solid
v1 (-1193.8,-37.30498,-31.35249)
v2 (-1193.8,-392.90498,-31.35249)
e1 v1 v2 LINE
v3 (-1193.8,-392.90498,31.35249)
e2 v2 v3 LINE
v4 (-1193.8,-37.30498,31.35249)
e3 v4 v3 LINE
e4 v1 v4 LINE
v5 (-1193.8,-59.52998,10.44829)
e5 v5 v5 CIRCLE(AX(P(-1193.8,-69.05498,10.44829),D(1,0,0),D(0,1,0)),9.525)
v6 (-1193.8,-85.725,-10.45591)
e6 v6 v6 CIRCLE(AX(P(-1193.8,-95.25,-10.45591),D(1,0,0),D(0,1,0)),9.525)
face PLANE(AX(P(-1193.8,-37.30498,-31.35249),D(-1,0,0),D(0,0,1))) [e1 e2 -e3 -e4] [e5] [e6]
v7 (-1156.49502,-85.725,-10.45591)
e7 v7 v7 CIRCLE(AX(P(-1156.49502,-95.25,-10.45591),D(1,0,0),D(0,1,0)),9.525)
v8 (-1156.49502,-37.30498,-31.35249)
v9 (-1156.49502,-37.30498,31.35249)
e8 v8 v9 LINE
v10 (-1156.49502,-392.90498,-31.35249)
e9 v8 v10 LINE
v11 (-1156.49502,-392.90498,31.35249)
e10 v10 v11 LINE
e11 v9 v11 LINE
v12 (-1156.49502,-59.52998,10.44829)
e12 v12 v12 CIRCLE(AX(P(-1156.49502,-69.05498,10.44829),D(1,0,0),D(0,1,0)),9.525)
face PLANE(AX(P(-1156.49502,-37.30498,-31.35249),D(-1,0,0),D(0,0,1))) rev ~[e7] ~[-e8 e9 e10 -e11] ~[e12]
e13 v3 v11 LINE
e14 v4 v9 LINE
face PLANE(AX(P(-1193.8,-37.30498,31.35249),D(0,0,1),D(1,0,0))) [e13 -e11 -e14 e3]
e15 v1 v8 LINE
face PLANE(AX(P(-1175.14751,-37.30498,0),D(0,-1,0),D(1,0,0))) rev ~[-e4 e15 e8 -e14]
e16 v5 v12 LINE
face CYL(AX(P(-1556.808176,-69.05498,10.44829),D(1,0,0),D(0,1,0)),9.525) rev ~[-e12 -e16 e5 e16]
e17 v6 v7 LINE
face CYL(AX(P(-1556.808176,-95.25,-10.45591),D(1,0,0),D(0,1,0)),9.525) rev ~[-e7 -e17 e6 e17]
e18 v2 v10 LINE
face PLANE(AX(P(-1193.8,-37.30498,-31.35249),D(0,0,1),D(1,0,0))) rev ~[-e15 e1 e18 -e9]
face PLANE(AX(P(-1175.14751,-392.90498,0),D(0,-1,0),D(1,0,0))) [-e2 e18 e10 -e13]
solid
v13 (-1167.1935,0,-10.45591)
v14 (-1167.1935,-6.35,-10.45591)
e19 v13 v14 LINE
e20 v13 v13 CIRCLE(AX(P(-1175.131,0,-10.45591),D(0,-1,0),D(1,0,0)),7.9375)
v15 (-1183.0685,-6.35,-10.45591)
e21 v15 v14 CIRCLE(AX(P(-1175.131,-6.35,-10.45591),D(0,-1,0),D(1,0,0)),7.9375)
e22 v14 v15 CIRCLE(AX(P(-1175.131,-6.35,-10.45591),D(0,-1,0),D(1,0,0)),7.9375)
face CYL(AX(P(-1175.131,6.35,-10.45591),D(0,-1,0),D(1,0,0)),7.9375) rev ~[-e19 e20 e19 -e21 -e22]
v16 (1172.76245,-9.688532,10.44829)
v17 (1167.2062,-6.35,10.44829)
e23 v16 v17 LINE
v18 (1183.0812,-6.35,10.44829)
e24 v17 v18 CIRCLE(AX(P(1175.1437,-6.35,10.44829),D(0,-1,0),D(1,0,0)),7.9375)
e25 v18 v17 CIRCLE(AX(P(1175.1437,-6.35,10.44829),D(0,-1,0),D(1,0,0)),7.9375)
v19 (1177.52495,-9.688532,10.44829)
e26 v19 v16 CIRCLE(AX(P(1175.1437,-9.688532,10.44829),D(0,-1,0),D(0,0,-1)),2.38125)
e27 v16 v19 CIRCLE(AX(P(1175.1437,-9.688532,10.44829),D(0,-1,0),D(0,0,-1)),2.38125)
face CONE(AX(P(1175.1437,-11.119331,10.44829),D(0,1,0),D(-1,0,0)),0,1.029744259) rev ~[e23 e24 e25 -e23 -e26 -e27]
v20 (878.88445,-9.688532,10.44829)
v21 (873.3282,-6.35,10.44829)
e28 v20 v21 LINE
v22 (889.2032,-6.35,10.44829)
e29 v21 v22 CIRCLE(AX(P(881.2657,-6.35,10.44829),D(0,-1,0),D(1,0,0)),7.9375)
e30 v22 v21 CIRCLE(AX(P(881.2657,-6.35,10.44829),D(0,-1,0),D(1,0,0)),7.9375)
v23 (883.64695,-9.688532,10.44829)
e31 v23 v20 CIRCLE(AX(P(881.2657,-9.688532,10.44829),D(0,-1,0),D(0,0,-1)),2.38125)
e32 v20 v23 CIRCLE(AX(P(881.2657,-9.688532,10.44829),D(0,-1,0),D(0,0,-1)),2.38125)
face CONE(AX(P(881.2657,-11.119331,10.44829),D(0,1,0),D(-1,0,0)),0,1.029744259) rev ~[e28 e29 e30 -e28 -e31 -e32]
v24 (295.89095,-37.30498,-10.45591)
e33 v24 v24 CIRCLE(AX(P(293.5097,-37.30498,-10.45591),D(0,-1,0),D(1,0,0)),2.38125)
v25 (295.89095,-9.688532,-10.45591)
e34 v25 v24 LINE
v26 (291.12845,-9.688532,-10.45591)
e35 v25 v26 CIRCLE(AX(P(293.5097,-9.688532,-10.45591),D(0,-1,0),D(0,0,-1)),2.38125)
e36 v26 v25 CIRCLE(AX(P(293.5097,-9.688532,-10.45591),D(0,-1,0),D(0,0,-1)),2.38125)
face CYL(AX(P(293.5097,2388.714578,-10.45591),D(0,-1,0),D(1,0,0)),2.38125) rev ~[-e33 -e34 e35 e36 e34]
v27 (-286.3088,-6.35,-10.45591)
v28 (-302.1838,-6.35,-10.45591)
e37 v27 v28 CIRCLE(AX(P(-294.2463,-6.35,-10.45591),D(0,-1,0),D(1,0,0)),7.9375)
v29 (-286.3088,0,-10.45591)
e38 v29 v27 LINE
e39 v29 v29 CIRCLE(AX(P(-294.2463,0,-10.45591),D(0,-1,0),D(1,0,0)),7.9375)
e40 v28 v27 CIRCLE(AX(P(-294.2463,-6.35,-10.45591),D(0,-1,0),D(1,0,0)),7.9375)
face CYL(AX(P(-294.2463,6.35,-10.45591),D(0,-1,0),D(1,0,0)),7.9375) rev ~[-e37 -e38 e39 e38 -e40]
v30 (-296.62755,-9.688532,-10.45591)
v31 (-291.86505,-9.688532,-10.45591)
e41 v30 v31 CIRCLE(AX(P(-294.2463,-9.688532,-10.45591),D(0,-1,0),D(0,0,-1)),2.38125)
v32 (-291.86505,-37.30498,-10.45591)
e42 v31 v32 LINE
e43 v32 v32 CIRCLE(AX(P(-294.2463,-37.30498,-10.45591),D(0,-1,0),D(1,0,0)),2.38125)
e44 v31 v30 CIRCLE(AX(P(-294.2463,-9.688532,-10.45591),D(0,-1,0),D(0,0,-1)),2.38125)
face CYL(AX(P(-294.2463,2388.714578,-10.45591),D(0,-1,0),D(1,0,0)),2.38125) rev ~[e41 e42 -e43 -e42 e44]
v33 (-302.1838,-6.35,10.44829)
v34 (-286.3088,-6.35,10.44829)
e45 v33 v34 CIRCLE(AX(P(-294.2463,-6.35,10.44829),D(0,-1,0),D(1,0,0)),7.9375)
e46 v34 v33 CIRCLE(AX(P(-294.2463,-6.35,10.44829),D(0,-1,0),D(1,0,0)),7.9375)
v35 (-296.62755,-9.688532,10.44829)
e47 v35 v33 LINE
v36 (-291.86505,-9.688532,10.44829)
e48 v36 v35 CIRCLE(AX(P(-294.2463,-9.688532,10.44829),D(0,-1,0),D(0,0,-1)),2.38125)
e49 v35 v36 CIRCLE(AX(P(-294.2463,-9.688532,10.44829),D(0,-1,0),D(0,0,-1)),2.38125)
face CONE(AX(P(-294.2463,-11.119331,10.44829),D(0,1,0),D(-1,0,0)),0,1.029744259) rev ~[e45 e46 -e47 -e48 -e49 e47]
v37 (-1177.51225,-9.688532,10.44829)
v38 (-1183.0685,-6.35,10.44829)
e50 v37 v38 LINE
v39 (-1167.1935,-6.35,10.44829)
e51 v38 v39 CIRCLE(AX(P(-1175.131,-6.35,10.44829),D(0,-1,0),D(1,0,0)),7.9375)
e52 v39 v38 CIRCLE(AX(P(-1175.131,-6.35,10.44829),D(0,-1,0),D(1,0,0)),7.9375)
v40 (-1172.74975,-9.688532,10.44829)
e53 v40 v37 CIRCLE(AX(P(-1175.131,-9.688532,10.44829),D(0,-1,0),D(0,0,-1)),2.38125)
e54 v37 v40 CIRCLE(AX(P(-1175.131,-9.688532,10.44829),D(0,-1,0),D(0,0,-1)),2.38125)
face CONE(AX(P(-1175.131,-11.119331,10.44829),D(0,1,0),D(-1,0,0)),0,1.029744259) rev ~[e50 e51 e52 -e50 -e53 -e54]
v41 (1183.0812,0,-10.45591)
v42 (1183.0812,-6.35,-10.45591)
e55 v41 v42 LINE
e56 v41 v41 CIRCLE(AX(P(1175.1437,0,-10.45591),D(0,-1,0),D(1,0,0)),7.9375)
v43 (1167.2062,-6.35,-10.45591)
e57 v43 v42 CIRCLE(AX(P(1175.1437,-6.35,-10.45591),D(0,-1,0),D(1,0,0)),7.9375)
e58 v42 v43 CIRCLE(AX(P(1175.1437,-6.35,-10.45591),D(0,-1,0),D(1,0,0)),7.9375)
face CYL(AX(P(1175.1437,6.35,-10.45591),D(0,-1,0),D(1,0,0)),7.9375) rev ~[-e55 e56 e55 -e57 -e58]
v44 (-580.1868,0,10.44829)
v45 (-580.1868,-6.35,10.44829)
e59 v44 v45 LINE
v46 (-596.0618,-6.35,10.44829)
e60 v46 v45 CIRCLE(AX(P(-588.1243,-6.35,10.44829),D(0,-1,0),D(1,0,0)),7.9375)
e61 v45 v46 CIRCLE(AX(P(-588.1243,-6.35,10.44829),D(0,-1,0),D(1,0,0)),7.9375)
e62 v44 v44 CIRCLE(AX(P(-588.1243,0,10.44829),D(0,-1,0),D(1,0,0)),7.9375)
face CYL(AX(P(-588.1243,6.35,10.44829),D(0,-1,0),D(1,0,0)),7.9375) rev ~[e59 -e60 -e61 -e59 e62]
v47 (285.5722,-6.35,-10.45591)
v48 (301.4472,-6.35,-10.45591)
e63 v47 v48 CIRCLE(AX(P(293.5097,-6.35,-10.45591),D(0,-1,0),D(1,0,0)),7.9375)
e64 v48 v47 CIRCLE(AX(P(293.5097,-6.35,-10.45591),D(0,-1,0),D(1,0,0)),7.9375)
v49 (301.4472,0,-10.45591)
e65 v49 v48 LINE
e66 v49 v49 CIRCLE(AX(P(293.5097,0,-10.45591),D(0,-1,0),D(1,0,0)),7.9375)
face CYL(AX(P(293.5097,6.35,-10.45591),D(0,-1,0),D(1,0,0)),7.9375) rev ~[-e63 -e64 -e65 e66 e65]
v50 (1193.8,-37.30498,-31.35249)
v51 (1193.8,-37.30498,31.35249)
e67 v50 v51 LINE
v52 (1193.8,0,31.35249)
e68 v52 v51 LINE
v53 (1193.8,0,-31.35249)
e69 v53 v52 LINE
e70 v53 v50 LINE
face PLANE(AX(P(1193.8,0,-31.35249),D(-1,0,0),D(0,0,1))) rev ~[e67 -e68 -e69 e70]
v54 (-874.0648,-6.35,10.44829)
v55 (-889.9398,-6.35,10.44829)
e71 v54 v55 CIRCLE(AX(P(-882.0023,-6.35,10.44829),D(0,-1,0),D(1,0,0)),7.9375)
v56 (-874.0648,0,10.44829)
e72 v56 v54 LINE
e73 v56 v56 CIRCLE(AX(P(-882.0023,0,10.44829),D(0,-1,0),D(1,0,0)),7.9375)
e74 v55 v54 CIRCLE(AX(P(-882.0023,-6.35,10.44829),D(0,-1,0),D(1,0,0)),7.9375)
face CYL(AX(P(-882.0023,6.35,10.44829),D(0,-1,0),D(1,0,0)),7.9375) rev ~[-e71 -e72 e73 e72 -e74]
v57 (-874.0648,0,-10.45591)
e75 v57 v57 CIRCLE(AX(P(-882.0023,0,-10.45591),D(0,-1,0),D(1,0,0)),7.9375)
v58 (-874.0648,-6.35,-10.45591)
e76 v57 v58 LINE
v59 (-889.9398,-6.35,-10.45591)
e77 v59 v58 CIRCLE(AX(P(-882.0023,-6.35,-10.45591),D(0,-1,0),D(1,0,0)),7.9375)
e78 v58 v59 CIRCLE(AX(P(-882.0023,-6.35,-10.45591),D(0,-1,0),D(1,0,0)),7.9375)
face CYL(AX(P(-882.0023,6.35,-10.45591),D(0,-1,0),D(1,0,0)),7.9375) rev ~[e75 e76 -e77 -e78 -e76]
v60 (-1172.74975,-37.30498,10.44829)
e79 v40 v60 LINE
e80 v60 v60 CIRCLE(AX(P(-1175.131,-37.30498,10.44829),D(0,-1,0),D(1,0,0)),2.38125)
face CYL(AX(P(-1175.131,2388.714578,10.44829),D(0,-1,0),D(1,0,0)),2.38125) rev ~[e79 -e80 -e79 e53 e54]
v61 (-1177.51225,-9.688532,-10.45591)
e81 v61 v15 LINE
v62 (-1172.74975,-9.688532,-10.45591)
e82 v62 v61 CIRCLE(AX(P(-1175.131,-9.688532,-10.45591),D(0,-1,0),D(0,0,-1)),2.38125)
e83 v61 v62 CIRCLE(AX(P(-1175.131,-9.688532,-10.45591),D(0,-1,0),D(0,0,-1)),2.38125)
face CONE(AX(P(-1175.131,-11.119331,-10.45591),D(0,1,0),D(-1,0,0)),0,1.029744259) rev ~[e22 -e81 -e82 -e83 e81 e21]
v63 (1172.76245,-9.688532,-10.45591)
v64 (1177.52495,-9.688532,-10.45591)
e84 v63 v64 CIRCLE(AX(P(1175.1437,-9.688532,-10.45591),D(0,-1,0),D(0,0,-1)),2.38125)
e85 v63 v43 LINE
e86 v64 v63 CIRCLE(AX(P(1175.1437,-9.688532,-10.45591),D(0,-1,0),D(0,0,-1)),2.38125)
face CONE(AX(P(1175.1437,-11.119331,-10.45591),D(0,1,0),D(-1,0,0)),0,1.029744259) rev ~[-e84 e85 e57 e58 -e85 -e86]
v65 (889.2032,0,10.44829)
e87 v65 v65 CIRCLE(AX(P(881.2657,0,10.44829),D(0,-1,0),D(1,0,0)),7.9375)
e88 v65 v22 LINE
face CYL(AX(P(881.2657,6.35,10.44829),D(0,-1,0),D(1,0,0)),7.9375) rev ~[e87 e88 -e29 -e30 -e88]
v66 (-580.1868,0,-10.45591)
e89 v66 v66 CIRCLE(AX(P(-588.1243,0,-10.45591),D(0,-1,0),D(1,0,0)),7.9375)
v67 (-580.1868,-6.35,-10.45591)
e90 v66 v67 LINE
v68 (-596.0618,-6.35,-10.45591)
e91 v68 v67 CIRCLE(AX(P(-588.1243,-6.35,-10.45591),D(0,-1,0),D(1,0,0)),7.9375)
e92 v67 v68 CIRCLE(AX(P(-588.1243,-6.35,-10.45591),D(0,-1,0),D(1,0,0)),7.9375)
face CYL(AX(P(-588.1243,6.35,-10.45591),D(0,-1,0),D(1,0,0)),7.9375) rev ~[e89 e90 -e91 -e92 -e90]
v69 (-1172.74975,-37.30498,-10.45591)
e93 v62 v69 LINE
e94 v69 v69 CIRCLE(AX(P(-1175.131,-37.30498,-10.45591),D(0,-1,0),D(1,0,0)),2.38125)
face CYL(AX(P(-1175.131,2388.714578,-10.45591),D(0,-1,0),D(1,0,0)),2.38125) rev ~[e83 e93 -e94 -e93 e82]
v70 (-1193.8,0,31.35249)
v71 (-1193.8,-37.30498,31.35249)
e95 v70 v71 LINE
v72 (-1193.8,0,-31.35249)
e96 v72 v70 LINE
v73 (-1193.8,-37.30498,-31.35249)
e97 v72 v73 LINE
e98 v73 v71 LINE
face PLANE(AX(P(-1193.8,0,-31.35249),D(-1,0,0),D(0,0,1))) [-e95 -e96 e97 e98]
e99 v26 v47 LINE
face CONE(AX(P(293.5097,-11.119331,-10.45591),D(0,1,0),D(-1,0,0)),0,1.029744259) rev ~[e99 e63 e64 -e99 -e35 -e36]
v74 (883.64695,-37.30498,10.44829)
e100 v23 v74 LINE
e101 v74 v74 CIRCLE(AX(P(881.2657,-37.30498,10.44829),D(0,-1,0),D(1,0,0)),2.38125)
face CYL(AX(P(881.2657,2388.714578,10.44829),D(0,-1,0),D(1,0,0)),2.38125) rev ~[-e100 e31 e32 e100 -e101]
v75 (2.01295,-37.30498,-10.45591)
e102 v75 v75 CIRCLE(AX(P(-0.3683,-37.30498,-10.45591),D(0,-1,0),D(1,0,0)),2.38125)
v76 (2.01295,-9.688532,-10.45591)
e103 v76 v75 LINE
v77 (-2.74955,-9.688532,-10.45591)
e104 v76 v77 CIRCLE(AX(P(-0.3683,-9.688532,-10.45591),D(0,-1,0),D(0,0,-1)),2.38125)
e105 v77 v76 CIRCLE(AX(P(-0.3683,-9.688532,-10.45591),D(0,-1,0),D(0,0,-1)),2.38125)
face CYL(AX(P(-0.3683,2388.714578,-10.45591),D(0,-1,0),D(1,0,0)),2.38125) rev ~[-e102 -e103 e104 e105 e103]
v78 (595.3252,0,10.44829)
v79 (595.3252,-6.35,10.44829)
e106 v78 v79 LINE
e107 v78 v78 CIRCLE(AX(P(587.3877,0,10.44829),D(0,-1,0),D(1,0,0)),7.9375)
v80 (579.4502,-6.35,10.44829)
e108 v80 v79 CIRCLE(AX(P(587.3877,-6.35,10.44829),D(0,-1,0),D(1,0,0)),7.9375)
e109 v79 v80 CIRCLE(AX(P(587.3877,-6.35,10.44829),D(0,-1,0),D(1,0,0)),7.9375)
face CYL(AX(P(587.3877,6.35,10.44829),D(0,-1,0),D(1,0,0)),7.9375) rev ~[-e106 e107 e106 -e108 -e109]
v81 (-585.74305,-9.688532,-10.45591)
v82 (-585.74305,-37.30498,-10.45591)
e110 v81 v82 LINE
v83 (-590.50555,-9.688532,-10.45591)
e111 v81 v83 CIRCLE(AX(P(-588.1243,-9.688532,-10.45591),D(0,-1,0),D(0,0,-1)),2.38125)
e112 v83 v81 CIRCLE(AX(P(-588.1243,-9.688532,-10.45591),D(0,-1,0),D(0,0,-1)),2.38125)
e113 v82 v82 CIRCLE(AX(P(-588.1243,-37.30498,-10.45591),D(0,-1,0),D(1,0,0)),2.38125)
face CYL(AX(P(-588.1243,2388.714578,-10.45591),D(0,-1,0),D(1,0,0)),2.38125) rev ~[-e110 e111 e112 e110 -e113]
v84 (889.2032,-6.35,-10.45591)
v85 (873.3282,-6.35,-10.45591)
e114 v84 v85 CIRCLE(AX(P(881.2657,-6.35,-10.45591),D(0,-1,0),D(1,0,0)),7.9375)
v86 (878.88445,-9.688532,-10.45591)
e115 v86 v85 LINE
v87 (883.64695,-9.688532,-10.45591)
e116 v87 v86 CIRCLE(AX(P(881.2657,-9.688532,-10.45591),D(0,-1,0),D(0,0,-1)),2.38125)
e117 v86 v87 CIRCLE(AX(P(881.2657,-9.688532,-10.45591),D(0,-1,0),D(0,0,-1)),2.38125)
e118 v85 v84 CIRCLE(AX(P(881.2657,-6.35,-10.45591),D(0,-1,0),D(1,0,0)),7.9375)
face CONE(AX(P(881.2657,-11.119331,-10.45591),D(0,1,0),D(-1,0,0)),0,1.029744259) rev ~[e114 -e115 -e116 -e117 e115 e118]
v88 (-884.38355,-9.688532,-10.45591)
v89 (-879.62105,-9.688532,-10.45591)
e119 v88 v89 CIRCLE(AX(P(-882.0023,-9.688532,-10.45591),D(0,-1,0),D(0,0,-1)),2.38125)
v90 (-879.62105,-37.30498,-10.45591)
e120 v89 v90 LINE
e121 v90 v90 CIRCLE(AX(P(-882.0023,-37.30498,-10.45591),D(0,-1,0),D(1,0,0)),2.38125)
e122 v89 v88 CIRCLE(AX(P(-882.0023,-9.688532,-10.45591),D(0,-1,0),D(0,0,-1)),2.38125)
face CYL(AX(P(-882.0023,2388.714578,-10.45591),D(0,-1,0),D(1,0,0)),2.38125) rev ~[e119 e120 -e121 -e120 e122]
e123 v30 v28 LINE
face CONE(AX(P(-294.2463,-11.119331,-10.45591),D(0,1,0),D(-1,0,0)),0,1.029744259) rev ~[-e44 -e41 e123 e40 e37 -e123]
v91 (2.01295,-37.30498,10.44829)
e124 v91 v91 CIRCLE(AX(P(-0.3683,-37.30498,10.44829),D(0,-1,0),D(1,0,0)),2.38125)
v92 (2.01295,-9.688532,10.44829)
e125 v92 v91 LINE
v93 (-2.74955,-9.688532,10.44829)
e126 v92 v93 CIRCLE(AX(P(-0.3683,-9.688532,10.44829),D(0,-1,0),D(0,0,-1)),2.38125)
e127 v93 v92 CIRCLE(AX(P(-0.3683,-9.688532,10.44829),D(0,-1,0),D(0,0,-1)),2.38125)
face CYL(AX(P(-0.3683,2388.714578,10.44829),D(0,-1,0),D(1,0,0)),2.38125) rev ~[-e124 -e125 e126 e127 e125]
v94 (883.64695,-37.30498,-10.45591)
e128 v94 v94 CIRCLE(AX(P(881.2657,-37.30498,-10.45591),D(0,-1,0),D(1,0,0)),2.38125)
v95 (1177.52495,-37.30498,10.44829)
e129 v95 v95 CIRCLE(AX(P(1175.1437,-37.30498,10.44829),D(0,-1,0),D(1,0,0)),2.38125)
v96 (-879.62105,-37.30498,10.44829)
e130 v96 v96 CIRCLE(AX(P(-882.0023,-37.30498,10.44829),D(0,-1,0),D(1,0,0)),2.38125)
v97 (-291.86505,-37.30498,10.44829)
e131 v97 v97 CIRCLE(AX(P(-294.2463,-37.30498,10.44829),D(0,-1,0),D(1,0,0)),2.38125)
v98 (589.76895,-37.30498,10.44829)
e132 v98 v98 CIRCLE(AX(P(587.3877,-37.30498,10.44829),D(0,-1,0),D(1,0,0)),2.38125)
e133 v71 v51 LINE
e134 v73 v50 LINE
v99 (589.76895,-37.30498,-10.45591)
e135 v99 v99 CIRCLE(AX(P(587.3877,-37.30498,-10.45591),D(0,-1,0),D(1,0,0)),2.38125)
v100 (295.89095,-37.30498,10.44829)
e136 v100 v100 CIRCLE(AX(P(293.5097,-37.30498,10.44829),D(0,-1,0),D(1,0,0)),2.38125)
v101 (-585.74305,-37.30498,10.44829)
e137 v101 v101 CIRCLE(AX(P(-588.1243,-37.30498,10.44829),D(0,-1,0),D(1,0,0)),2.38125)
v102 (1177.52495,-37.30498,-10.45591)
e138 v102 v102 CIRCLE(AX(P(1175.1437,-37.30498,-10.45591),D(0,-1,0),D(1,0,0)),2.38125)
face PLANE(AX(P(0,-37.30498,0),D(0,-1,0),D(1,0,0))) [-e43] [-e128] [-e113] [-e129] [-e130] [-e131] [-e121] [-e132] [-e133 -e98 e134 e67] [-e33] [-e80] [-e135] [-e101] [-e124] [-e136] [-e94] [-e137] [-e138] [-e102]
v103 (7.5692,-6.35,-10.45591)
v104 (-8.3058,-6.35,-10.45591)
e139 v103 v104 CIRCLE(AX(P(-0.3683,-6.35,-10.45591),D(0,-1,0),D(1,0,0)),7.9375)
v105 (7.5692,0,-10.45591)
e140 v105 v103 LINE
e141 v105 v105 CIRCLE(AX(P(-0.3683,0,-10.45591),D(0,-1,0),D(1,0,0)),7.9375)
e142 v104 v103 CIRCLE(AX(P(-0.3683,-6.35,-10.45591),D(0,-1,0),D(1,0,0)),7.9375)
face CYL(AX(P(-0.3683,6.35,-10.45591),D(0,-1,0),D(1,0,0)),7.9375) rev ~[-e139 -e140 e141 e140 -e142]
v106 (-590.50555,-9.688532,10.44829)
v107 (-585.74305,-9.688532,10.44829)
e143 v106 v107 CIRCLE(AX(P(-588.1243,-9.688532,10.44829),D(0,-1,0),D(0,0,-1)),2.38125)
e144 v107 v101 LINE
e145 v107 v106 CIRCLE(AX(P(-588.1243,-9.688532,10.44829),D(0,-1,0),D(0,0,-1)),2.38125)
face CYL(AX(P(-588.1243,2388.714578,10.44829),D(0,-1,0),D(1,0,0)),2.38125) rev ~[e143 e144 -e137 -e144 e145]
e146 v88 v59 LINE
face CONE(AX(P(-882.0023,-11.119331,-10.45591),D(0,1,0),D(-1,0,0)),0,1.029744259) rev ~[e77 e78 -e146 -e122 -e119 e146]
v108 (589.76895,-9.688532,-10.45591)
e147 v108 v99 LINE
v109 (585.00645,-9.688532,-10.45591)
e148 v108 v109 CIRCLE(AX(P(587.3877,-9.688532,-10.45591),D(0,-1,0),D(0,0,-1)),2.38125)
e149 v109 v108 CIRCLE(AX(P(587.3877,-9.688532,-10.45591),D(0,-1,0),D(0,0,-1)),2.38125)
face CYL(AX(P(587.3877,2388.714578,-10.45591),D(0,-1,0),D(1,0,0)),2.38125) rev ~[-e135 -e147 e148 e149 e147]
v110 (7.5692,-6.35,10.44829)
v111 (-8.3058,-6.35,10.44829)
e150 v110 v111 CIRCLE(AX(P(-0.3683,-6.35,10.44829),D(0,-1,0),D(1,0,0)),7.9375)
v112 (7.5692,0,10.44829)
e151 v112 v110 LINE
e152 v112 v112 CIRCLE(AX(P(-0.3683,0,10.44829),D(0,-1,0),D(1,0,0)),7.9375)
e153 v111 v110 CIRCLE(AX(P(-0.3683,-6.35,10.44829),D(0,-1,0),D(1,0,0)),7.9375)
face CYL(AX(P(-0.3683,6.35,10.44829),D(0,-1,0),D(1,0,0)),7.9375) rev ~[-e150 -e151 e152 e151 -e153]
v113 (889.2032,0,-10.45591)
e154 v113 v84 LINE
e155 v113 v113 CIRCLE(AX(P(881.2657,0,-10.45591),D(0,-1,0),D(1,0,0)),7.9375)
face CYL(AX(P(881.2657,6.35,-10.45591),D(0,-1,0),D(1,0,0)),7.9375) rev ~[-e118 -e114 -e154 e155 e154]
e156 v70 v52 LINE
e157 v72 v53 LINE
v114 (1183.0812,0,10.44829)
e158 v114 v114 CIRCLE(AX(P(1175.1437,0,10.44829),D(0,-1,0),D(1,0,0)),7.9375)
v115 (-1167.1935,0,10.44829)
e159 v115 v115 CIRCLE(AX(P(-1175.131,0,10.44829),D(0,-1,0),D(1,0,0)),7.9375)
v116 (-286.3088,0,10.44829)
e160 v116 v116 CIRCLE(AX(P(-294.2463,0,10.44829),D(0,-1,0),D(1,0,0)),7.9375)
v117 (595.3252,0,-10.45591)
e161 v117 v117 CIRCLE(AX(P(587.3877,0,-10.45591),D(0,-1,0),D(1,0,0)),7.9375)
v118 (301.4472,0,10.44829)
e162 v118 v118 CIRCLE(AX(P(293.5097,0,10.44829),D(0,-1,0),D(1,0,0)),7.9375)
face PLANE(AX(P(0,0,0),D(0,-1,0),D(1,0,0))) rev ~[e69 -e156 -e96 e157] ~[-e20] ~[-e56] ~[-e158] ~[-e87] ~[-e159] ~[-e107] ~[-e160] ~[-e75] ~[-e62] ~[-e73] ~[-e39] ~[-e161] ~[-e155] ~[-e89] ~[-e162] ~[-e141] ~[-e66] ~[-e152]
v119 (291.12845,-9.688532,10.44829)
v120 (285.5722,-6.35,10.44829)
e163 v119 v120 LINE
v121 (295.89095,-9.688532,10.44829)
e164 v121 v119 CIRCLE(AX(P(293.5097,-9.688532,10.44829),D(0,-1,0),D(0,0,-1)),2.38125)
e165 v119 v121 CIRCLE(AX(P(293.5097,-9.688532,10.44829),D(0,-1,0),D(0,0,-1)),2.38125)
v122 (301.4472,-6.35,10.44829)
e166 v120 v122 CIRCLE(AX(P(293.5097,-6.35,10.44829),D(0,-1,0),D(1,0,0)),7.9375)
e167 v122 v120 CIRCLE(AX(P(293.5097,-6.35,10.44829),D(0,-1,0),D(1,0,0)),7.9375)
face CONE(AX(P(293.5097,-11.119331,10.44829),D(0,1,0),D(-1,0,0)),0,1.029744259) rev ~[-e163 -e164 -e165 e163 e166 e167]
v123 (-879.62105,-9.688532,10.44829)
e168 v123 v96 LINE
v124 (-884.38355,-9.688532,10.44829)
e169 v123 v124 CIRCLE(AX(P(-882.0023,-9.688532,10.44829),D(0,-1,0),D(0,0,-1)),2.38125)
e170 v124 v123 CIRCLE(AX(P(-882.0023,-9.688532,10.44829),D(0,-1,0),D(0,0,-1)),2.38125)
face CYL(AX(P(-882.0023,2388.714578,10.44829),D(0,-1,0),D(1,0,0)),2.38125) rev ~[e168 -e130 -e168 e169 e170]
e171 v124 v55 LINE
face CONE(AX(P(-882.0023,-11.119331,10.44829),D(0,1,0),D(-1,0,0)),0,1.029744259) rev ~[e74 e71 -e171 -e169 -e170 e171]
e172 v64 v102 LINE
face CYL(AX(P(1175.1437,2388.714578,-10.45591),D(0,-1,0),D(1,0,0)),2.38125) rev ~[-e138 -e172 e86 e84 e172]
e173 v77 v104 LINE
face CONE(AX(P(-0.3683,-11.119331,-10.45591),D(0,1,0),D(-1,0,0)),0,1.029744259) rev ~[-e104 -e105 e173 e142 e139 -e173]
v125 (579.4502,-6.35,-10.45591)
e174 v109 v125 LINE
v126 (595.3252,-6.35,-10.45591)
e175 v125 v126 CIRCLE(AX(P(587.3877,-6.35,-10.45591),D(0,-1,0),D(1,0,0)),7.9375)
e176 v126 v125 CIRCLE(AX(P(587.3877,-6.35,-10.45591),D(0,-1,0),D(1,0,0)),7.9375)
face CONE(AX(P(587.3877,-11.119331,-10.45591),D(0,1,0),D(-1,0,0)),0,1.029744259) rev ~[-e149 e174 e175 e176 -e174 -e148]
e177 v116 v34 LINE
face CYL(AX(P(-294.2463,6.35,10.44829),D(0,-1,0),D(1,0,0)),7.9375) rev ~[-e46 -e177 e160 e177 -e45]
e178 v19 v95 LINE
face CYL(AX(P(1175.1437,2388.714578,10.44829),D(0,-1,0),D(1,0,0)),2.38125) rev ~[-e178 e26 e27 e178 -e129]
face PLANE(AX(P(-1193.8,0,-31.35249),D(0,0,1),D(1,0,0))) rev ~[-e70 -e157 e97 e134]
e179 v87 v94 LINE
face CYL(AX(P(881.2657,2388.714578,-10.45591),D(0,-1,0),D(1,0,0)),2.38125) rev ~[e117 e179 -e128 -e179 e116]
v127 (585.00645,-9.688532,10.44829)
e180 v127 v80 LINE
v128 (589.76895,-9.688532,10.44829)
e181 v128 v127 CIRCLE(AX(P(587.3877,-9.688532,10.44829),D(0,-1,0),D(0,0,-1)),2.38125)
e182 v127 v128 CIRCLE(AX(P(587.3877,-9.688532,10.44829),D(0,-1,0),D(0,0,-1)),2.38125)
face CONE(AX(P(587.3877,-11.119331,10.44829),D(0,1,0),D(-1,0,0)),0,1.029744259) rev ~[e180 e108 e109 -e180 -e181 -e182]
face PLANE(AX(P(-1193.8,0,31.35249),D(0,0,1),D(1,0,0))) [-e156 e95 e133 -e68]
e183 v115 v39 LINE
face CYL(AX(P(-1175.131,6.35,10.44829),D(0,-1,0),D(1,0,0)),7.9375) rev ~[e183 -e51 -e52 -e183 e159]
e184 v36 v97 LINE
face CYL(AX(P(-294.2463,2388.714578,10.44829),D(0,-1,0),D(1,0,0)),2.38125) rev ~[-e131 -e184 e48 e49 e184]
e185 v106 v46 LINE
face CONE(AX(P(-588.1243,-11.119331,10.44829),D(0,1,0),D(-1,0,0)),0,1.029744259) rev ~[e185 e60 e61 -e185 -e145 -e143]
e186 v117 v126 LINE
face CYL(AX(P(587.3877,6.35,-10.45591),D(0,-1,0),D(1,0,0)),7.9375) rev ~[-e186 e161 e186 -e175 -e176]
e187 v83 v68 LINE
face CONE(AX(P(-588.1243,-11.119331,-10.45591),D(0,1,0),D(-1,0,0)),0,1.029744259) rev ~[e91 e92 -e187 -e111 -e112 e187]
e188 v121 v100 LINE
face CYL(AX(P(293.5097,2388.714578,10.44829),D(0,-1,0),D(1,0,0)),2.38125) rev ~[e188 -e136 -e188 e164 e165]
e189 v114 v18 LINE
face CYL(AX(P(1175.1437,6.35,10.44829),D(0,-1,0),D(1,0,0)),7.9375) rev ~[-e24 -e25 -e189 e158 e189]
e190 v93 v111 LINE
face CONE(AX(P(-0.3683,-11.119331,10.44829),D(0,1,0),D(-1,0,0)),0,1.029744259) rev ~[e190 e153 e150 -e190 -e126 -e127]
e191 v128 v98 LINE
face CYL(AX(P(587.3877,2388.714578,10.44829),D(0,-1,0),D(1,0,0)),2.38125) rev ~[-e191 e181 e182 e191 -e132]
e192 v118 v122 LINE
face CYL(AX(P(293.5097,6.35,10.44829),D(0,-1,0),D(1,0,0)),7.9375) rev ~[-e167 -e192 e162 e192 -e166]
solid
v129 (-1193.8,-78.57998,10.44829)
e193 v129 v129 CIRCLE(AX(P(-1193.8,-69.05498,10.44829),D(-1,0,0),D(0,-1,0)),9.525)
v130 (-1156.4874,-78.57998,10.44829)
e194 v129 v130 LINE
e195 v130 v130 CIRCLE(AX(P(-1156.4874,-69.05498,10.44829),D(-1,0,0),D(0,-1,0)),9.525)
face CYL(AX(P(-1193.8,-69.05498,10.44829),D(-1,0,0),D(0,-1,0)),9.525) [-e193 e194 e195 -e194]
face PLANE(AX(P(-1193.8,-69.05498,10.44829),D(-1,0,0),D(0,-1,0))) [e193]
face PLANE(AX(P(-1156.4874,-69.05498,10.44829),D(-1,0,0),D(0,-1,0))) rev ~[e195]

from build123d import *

# Parameters (mm, degrees)
F0_W      = 2387.6
F0_H      = 62.70498
F1_DEPTH  = 37.30498
F2_W      = 37.30498
F2_H      = 62.70498
F3_DEPTH  = 355.6
F5_D      = 15.875
F5_DEPTH  = 6.35
F5_TIP    = 4.7693311635
F6_D      = 4.7625
F8_D      = 19.05
F9_R      = 9.525
F10_DEPTH = 37.3126


with BuildPart() as f1:
    # F0 (on Front) → F1 (new body)
    with BuildSketch(Plane.XZ):
        Rectangle(F0_W, F0_H)
    extrude(amount=F1_DEPTH)

    # F5
    with Locations(Plane(origin=(0, 0, 0), x_dir=(-1, 0, 0), z_dir=(0, 1, 0))):
        with Locations((-1175.1437, 10.44829), (-1175.1437, -10.45591), (-881.2657, 10.44829), (-881.2657, -10.45591), (-587.3877, 10.44829), (-587.3877, -10.45591), (-293.5097, 10.44829), (-293.5097, -10.45591), (0.3683, 10.44829), (0.3683, -10.45591), (294.2463, 10.44829), (294.2463, -10.45591), (588.1243, 10.44829), (588.1243, -10.45591), (882.0023, 10.44829), (882.0023, -10.45591), (1175.131, 10.44829), (1175.131, -10.45591)):
            Hole(F5_D / 2, depth=F5_DEPTH)
            with Locations((0, 0, -(F5_DEPTH + F5_TIP / 2))):  # 118° drill point
                Cone(0, F5_D / 2, F5_TIP, mode=Mode.SUBTRACT)

    # F6 (through all)
    with Locations(Plane(origin=(0, 0, 0), x_dir=(-1, 0, 0), z_dir=(0, 1, 0))):
        with Locations((-1175.1437, 10.44829), (-1175.1437, -10.45591), (-881.2657, 10.44829), (-881.2657, -10.45591), (-587.3877, 10.44829), (-587.3877, -10.45591), (-293.5097, 10.44829), (-293.5097, -10.45591), (0.3683, 10.44829), (0.3683, -10.45591), (294.2463, 10.44829), (294.2463, -10.45591), (588.1243, 10.44829), (588.1243, -10.45591), (882.0023, 10.44829), (882.0023, -10.45591), (1175.131, 10.44829), (1175.131, -10.45591)):
            Hole(F6_D / 2)


with BuildPart() as f3:
    # F2 (on face) → F3 (new body)
    with BuildSketch(Plane.XZ.offset(37.30498)):
        with Locations((-1175.14751, 0)):
            Rectangle(F2_W, F2_H)
    extrude(amount=F3_DEPTH)

    # F8 (through all)
    with Locations(Plane(origin=(-1193.8, 0, 0), x_dir=(0, -1, 0), z_dir=(-1, 0, 0))):
        with Locations((69.05498, 10.44829), (95.25, -10.45591)):
            Hole(F8_D / 2)


with BuildPart() as f10:
    # F9 (on face) → F10 (new body)
    with BuildSketch(Plane(origin=(-1193.8, 0, 0), x_dir=(0, -1, 0), z_dir=(-1, 0, 0))):
        with Locations((69.05498, 10.44829)):
            Circle(F9_R)
    extrude(amount=-F10_DEPTH)


solid = Compound([f1.part, f3.part, f10.part])
